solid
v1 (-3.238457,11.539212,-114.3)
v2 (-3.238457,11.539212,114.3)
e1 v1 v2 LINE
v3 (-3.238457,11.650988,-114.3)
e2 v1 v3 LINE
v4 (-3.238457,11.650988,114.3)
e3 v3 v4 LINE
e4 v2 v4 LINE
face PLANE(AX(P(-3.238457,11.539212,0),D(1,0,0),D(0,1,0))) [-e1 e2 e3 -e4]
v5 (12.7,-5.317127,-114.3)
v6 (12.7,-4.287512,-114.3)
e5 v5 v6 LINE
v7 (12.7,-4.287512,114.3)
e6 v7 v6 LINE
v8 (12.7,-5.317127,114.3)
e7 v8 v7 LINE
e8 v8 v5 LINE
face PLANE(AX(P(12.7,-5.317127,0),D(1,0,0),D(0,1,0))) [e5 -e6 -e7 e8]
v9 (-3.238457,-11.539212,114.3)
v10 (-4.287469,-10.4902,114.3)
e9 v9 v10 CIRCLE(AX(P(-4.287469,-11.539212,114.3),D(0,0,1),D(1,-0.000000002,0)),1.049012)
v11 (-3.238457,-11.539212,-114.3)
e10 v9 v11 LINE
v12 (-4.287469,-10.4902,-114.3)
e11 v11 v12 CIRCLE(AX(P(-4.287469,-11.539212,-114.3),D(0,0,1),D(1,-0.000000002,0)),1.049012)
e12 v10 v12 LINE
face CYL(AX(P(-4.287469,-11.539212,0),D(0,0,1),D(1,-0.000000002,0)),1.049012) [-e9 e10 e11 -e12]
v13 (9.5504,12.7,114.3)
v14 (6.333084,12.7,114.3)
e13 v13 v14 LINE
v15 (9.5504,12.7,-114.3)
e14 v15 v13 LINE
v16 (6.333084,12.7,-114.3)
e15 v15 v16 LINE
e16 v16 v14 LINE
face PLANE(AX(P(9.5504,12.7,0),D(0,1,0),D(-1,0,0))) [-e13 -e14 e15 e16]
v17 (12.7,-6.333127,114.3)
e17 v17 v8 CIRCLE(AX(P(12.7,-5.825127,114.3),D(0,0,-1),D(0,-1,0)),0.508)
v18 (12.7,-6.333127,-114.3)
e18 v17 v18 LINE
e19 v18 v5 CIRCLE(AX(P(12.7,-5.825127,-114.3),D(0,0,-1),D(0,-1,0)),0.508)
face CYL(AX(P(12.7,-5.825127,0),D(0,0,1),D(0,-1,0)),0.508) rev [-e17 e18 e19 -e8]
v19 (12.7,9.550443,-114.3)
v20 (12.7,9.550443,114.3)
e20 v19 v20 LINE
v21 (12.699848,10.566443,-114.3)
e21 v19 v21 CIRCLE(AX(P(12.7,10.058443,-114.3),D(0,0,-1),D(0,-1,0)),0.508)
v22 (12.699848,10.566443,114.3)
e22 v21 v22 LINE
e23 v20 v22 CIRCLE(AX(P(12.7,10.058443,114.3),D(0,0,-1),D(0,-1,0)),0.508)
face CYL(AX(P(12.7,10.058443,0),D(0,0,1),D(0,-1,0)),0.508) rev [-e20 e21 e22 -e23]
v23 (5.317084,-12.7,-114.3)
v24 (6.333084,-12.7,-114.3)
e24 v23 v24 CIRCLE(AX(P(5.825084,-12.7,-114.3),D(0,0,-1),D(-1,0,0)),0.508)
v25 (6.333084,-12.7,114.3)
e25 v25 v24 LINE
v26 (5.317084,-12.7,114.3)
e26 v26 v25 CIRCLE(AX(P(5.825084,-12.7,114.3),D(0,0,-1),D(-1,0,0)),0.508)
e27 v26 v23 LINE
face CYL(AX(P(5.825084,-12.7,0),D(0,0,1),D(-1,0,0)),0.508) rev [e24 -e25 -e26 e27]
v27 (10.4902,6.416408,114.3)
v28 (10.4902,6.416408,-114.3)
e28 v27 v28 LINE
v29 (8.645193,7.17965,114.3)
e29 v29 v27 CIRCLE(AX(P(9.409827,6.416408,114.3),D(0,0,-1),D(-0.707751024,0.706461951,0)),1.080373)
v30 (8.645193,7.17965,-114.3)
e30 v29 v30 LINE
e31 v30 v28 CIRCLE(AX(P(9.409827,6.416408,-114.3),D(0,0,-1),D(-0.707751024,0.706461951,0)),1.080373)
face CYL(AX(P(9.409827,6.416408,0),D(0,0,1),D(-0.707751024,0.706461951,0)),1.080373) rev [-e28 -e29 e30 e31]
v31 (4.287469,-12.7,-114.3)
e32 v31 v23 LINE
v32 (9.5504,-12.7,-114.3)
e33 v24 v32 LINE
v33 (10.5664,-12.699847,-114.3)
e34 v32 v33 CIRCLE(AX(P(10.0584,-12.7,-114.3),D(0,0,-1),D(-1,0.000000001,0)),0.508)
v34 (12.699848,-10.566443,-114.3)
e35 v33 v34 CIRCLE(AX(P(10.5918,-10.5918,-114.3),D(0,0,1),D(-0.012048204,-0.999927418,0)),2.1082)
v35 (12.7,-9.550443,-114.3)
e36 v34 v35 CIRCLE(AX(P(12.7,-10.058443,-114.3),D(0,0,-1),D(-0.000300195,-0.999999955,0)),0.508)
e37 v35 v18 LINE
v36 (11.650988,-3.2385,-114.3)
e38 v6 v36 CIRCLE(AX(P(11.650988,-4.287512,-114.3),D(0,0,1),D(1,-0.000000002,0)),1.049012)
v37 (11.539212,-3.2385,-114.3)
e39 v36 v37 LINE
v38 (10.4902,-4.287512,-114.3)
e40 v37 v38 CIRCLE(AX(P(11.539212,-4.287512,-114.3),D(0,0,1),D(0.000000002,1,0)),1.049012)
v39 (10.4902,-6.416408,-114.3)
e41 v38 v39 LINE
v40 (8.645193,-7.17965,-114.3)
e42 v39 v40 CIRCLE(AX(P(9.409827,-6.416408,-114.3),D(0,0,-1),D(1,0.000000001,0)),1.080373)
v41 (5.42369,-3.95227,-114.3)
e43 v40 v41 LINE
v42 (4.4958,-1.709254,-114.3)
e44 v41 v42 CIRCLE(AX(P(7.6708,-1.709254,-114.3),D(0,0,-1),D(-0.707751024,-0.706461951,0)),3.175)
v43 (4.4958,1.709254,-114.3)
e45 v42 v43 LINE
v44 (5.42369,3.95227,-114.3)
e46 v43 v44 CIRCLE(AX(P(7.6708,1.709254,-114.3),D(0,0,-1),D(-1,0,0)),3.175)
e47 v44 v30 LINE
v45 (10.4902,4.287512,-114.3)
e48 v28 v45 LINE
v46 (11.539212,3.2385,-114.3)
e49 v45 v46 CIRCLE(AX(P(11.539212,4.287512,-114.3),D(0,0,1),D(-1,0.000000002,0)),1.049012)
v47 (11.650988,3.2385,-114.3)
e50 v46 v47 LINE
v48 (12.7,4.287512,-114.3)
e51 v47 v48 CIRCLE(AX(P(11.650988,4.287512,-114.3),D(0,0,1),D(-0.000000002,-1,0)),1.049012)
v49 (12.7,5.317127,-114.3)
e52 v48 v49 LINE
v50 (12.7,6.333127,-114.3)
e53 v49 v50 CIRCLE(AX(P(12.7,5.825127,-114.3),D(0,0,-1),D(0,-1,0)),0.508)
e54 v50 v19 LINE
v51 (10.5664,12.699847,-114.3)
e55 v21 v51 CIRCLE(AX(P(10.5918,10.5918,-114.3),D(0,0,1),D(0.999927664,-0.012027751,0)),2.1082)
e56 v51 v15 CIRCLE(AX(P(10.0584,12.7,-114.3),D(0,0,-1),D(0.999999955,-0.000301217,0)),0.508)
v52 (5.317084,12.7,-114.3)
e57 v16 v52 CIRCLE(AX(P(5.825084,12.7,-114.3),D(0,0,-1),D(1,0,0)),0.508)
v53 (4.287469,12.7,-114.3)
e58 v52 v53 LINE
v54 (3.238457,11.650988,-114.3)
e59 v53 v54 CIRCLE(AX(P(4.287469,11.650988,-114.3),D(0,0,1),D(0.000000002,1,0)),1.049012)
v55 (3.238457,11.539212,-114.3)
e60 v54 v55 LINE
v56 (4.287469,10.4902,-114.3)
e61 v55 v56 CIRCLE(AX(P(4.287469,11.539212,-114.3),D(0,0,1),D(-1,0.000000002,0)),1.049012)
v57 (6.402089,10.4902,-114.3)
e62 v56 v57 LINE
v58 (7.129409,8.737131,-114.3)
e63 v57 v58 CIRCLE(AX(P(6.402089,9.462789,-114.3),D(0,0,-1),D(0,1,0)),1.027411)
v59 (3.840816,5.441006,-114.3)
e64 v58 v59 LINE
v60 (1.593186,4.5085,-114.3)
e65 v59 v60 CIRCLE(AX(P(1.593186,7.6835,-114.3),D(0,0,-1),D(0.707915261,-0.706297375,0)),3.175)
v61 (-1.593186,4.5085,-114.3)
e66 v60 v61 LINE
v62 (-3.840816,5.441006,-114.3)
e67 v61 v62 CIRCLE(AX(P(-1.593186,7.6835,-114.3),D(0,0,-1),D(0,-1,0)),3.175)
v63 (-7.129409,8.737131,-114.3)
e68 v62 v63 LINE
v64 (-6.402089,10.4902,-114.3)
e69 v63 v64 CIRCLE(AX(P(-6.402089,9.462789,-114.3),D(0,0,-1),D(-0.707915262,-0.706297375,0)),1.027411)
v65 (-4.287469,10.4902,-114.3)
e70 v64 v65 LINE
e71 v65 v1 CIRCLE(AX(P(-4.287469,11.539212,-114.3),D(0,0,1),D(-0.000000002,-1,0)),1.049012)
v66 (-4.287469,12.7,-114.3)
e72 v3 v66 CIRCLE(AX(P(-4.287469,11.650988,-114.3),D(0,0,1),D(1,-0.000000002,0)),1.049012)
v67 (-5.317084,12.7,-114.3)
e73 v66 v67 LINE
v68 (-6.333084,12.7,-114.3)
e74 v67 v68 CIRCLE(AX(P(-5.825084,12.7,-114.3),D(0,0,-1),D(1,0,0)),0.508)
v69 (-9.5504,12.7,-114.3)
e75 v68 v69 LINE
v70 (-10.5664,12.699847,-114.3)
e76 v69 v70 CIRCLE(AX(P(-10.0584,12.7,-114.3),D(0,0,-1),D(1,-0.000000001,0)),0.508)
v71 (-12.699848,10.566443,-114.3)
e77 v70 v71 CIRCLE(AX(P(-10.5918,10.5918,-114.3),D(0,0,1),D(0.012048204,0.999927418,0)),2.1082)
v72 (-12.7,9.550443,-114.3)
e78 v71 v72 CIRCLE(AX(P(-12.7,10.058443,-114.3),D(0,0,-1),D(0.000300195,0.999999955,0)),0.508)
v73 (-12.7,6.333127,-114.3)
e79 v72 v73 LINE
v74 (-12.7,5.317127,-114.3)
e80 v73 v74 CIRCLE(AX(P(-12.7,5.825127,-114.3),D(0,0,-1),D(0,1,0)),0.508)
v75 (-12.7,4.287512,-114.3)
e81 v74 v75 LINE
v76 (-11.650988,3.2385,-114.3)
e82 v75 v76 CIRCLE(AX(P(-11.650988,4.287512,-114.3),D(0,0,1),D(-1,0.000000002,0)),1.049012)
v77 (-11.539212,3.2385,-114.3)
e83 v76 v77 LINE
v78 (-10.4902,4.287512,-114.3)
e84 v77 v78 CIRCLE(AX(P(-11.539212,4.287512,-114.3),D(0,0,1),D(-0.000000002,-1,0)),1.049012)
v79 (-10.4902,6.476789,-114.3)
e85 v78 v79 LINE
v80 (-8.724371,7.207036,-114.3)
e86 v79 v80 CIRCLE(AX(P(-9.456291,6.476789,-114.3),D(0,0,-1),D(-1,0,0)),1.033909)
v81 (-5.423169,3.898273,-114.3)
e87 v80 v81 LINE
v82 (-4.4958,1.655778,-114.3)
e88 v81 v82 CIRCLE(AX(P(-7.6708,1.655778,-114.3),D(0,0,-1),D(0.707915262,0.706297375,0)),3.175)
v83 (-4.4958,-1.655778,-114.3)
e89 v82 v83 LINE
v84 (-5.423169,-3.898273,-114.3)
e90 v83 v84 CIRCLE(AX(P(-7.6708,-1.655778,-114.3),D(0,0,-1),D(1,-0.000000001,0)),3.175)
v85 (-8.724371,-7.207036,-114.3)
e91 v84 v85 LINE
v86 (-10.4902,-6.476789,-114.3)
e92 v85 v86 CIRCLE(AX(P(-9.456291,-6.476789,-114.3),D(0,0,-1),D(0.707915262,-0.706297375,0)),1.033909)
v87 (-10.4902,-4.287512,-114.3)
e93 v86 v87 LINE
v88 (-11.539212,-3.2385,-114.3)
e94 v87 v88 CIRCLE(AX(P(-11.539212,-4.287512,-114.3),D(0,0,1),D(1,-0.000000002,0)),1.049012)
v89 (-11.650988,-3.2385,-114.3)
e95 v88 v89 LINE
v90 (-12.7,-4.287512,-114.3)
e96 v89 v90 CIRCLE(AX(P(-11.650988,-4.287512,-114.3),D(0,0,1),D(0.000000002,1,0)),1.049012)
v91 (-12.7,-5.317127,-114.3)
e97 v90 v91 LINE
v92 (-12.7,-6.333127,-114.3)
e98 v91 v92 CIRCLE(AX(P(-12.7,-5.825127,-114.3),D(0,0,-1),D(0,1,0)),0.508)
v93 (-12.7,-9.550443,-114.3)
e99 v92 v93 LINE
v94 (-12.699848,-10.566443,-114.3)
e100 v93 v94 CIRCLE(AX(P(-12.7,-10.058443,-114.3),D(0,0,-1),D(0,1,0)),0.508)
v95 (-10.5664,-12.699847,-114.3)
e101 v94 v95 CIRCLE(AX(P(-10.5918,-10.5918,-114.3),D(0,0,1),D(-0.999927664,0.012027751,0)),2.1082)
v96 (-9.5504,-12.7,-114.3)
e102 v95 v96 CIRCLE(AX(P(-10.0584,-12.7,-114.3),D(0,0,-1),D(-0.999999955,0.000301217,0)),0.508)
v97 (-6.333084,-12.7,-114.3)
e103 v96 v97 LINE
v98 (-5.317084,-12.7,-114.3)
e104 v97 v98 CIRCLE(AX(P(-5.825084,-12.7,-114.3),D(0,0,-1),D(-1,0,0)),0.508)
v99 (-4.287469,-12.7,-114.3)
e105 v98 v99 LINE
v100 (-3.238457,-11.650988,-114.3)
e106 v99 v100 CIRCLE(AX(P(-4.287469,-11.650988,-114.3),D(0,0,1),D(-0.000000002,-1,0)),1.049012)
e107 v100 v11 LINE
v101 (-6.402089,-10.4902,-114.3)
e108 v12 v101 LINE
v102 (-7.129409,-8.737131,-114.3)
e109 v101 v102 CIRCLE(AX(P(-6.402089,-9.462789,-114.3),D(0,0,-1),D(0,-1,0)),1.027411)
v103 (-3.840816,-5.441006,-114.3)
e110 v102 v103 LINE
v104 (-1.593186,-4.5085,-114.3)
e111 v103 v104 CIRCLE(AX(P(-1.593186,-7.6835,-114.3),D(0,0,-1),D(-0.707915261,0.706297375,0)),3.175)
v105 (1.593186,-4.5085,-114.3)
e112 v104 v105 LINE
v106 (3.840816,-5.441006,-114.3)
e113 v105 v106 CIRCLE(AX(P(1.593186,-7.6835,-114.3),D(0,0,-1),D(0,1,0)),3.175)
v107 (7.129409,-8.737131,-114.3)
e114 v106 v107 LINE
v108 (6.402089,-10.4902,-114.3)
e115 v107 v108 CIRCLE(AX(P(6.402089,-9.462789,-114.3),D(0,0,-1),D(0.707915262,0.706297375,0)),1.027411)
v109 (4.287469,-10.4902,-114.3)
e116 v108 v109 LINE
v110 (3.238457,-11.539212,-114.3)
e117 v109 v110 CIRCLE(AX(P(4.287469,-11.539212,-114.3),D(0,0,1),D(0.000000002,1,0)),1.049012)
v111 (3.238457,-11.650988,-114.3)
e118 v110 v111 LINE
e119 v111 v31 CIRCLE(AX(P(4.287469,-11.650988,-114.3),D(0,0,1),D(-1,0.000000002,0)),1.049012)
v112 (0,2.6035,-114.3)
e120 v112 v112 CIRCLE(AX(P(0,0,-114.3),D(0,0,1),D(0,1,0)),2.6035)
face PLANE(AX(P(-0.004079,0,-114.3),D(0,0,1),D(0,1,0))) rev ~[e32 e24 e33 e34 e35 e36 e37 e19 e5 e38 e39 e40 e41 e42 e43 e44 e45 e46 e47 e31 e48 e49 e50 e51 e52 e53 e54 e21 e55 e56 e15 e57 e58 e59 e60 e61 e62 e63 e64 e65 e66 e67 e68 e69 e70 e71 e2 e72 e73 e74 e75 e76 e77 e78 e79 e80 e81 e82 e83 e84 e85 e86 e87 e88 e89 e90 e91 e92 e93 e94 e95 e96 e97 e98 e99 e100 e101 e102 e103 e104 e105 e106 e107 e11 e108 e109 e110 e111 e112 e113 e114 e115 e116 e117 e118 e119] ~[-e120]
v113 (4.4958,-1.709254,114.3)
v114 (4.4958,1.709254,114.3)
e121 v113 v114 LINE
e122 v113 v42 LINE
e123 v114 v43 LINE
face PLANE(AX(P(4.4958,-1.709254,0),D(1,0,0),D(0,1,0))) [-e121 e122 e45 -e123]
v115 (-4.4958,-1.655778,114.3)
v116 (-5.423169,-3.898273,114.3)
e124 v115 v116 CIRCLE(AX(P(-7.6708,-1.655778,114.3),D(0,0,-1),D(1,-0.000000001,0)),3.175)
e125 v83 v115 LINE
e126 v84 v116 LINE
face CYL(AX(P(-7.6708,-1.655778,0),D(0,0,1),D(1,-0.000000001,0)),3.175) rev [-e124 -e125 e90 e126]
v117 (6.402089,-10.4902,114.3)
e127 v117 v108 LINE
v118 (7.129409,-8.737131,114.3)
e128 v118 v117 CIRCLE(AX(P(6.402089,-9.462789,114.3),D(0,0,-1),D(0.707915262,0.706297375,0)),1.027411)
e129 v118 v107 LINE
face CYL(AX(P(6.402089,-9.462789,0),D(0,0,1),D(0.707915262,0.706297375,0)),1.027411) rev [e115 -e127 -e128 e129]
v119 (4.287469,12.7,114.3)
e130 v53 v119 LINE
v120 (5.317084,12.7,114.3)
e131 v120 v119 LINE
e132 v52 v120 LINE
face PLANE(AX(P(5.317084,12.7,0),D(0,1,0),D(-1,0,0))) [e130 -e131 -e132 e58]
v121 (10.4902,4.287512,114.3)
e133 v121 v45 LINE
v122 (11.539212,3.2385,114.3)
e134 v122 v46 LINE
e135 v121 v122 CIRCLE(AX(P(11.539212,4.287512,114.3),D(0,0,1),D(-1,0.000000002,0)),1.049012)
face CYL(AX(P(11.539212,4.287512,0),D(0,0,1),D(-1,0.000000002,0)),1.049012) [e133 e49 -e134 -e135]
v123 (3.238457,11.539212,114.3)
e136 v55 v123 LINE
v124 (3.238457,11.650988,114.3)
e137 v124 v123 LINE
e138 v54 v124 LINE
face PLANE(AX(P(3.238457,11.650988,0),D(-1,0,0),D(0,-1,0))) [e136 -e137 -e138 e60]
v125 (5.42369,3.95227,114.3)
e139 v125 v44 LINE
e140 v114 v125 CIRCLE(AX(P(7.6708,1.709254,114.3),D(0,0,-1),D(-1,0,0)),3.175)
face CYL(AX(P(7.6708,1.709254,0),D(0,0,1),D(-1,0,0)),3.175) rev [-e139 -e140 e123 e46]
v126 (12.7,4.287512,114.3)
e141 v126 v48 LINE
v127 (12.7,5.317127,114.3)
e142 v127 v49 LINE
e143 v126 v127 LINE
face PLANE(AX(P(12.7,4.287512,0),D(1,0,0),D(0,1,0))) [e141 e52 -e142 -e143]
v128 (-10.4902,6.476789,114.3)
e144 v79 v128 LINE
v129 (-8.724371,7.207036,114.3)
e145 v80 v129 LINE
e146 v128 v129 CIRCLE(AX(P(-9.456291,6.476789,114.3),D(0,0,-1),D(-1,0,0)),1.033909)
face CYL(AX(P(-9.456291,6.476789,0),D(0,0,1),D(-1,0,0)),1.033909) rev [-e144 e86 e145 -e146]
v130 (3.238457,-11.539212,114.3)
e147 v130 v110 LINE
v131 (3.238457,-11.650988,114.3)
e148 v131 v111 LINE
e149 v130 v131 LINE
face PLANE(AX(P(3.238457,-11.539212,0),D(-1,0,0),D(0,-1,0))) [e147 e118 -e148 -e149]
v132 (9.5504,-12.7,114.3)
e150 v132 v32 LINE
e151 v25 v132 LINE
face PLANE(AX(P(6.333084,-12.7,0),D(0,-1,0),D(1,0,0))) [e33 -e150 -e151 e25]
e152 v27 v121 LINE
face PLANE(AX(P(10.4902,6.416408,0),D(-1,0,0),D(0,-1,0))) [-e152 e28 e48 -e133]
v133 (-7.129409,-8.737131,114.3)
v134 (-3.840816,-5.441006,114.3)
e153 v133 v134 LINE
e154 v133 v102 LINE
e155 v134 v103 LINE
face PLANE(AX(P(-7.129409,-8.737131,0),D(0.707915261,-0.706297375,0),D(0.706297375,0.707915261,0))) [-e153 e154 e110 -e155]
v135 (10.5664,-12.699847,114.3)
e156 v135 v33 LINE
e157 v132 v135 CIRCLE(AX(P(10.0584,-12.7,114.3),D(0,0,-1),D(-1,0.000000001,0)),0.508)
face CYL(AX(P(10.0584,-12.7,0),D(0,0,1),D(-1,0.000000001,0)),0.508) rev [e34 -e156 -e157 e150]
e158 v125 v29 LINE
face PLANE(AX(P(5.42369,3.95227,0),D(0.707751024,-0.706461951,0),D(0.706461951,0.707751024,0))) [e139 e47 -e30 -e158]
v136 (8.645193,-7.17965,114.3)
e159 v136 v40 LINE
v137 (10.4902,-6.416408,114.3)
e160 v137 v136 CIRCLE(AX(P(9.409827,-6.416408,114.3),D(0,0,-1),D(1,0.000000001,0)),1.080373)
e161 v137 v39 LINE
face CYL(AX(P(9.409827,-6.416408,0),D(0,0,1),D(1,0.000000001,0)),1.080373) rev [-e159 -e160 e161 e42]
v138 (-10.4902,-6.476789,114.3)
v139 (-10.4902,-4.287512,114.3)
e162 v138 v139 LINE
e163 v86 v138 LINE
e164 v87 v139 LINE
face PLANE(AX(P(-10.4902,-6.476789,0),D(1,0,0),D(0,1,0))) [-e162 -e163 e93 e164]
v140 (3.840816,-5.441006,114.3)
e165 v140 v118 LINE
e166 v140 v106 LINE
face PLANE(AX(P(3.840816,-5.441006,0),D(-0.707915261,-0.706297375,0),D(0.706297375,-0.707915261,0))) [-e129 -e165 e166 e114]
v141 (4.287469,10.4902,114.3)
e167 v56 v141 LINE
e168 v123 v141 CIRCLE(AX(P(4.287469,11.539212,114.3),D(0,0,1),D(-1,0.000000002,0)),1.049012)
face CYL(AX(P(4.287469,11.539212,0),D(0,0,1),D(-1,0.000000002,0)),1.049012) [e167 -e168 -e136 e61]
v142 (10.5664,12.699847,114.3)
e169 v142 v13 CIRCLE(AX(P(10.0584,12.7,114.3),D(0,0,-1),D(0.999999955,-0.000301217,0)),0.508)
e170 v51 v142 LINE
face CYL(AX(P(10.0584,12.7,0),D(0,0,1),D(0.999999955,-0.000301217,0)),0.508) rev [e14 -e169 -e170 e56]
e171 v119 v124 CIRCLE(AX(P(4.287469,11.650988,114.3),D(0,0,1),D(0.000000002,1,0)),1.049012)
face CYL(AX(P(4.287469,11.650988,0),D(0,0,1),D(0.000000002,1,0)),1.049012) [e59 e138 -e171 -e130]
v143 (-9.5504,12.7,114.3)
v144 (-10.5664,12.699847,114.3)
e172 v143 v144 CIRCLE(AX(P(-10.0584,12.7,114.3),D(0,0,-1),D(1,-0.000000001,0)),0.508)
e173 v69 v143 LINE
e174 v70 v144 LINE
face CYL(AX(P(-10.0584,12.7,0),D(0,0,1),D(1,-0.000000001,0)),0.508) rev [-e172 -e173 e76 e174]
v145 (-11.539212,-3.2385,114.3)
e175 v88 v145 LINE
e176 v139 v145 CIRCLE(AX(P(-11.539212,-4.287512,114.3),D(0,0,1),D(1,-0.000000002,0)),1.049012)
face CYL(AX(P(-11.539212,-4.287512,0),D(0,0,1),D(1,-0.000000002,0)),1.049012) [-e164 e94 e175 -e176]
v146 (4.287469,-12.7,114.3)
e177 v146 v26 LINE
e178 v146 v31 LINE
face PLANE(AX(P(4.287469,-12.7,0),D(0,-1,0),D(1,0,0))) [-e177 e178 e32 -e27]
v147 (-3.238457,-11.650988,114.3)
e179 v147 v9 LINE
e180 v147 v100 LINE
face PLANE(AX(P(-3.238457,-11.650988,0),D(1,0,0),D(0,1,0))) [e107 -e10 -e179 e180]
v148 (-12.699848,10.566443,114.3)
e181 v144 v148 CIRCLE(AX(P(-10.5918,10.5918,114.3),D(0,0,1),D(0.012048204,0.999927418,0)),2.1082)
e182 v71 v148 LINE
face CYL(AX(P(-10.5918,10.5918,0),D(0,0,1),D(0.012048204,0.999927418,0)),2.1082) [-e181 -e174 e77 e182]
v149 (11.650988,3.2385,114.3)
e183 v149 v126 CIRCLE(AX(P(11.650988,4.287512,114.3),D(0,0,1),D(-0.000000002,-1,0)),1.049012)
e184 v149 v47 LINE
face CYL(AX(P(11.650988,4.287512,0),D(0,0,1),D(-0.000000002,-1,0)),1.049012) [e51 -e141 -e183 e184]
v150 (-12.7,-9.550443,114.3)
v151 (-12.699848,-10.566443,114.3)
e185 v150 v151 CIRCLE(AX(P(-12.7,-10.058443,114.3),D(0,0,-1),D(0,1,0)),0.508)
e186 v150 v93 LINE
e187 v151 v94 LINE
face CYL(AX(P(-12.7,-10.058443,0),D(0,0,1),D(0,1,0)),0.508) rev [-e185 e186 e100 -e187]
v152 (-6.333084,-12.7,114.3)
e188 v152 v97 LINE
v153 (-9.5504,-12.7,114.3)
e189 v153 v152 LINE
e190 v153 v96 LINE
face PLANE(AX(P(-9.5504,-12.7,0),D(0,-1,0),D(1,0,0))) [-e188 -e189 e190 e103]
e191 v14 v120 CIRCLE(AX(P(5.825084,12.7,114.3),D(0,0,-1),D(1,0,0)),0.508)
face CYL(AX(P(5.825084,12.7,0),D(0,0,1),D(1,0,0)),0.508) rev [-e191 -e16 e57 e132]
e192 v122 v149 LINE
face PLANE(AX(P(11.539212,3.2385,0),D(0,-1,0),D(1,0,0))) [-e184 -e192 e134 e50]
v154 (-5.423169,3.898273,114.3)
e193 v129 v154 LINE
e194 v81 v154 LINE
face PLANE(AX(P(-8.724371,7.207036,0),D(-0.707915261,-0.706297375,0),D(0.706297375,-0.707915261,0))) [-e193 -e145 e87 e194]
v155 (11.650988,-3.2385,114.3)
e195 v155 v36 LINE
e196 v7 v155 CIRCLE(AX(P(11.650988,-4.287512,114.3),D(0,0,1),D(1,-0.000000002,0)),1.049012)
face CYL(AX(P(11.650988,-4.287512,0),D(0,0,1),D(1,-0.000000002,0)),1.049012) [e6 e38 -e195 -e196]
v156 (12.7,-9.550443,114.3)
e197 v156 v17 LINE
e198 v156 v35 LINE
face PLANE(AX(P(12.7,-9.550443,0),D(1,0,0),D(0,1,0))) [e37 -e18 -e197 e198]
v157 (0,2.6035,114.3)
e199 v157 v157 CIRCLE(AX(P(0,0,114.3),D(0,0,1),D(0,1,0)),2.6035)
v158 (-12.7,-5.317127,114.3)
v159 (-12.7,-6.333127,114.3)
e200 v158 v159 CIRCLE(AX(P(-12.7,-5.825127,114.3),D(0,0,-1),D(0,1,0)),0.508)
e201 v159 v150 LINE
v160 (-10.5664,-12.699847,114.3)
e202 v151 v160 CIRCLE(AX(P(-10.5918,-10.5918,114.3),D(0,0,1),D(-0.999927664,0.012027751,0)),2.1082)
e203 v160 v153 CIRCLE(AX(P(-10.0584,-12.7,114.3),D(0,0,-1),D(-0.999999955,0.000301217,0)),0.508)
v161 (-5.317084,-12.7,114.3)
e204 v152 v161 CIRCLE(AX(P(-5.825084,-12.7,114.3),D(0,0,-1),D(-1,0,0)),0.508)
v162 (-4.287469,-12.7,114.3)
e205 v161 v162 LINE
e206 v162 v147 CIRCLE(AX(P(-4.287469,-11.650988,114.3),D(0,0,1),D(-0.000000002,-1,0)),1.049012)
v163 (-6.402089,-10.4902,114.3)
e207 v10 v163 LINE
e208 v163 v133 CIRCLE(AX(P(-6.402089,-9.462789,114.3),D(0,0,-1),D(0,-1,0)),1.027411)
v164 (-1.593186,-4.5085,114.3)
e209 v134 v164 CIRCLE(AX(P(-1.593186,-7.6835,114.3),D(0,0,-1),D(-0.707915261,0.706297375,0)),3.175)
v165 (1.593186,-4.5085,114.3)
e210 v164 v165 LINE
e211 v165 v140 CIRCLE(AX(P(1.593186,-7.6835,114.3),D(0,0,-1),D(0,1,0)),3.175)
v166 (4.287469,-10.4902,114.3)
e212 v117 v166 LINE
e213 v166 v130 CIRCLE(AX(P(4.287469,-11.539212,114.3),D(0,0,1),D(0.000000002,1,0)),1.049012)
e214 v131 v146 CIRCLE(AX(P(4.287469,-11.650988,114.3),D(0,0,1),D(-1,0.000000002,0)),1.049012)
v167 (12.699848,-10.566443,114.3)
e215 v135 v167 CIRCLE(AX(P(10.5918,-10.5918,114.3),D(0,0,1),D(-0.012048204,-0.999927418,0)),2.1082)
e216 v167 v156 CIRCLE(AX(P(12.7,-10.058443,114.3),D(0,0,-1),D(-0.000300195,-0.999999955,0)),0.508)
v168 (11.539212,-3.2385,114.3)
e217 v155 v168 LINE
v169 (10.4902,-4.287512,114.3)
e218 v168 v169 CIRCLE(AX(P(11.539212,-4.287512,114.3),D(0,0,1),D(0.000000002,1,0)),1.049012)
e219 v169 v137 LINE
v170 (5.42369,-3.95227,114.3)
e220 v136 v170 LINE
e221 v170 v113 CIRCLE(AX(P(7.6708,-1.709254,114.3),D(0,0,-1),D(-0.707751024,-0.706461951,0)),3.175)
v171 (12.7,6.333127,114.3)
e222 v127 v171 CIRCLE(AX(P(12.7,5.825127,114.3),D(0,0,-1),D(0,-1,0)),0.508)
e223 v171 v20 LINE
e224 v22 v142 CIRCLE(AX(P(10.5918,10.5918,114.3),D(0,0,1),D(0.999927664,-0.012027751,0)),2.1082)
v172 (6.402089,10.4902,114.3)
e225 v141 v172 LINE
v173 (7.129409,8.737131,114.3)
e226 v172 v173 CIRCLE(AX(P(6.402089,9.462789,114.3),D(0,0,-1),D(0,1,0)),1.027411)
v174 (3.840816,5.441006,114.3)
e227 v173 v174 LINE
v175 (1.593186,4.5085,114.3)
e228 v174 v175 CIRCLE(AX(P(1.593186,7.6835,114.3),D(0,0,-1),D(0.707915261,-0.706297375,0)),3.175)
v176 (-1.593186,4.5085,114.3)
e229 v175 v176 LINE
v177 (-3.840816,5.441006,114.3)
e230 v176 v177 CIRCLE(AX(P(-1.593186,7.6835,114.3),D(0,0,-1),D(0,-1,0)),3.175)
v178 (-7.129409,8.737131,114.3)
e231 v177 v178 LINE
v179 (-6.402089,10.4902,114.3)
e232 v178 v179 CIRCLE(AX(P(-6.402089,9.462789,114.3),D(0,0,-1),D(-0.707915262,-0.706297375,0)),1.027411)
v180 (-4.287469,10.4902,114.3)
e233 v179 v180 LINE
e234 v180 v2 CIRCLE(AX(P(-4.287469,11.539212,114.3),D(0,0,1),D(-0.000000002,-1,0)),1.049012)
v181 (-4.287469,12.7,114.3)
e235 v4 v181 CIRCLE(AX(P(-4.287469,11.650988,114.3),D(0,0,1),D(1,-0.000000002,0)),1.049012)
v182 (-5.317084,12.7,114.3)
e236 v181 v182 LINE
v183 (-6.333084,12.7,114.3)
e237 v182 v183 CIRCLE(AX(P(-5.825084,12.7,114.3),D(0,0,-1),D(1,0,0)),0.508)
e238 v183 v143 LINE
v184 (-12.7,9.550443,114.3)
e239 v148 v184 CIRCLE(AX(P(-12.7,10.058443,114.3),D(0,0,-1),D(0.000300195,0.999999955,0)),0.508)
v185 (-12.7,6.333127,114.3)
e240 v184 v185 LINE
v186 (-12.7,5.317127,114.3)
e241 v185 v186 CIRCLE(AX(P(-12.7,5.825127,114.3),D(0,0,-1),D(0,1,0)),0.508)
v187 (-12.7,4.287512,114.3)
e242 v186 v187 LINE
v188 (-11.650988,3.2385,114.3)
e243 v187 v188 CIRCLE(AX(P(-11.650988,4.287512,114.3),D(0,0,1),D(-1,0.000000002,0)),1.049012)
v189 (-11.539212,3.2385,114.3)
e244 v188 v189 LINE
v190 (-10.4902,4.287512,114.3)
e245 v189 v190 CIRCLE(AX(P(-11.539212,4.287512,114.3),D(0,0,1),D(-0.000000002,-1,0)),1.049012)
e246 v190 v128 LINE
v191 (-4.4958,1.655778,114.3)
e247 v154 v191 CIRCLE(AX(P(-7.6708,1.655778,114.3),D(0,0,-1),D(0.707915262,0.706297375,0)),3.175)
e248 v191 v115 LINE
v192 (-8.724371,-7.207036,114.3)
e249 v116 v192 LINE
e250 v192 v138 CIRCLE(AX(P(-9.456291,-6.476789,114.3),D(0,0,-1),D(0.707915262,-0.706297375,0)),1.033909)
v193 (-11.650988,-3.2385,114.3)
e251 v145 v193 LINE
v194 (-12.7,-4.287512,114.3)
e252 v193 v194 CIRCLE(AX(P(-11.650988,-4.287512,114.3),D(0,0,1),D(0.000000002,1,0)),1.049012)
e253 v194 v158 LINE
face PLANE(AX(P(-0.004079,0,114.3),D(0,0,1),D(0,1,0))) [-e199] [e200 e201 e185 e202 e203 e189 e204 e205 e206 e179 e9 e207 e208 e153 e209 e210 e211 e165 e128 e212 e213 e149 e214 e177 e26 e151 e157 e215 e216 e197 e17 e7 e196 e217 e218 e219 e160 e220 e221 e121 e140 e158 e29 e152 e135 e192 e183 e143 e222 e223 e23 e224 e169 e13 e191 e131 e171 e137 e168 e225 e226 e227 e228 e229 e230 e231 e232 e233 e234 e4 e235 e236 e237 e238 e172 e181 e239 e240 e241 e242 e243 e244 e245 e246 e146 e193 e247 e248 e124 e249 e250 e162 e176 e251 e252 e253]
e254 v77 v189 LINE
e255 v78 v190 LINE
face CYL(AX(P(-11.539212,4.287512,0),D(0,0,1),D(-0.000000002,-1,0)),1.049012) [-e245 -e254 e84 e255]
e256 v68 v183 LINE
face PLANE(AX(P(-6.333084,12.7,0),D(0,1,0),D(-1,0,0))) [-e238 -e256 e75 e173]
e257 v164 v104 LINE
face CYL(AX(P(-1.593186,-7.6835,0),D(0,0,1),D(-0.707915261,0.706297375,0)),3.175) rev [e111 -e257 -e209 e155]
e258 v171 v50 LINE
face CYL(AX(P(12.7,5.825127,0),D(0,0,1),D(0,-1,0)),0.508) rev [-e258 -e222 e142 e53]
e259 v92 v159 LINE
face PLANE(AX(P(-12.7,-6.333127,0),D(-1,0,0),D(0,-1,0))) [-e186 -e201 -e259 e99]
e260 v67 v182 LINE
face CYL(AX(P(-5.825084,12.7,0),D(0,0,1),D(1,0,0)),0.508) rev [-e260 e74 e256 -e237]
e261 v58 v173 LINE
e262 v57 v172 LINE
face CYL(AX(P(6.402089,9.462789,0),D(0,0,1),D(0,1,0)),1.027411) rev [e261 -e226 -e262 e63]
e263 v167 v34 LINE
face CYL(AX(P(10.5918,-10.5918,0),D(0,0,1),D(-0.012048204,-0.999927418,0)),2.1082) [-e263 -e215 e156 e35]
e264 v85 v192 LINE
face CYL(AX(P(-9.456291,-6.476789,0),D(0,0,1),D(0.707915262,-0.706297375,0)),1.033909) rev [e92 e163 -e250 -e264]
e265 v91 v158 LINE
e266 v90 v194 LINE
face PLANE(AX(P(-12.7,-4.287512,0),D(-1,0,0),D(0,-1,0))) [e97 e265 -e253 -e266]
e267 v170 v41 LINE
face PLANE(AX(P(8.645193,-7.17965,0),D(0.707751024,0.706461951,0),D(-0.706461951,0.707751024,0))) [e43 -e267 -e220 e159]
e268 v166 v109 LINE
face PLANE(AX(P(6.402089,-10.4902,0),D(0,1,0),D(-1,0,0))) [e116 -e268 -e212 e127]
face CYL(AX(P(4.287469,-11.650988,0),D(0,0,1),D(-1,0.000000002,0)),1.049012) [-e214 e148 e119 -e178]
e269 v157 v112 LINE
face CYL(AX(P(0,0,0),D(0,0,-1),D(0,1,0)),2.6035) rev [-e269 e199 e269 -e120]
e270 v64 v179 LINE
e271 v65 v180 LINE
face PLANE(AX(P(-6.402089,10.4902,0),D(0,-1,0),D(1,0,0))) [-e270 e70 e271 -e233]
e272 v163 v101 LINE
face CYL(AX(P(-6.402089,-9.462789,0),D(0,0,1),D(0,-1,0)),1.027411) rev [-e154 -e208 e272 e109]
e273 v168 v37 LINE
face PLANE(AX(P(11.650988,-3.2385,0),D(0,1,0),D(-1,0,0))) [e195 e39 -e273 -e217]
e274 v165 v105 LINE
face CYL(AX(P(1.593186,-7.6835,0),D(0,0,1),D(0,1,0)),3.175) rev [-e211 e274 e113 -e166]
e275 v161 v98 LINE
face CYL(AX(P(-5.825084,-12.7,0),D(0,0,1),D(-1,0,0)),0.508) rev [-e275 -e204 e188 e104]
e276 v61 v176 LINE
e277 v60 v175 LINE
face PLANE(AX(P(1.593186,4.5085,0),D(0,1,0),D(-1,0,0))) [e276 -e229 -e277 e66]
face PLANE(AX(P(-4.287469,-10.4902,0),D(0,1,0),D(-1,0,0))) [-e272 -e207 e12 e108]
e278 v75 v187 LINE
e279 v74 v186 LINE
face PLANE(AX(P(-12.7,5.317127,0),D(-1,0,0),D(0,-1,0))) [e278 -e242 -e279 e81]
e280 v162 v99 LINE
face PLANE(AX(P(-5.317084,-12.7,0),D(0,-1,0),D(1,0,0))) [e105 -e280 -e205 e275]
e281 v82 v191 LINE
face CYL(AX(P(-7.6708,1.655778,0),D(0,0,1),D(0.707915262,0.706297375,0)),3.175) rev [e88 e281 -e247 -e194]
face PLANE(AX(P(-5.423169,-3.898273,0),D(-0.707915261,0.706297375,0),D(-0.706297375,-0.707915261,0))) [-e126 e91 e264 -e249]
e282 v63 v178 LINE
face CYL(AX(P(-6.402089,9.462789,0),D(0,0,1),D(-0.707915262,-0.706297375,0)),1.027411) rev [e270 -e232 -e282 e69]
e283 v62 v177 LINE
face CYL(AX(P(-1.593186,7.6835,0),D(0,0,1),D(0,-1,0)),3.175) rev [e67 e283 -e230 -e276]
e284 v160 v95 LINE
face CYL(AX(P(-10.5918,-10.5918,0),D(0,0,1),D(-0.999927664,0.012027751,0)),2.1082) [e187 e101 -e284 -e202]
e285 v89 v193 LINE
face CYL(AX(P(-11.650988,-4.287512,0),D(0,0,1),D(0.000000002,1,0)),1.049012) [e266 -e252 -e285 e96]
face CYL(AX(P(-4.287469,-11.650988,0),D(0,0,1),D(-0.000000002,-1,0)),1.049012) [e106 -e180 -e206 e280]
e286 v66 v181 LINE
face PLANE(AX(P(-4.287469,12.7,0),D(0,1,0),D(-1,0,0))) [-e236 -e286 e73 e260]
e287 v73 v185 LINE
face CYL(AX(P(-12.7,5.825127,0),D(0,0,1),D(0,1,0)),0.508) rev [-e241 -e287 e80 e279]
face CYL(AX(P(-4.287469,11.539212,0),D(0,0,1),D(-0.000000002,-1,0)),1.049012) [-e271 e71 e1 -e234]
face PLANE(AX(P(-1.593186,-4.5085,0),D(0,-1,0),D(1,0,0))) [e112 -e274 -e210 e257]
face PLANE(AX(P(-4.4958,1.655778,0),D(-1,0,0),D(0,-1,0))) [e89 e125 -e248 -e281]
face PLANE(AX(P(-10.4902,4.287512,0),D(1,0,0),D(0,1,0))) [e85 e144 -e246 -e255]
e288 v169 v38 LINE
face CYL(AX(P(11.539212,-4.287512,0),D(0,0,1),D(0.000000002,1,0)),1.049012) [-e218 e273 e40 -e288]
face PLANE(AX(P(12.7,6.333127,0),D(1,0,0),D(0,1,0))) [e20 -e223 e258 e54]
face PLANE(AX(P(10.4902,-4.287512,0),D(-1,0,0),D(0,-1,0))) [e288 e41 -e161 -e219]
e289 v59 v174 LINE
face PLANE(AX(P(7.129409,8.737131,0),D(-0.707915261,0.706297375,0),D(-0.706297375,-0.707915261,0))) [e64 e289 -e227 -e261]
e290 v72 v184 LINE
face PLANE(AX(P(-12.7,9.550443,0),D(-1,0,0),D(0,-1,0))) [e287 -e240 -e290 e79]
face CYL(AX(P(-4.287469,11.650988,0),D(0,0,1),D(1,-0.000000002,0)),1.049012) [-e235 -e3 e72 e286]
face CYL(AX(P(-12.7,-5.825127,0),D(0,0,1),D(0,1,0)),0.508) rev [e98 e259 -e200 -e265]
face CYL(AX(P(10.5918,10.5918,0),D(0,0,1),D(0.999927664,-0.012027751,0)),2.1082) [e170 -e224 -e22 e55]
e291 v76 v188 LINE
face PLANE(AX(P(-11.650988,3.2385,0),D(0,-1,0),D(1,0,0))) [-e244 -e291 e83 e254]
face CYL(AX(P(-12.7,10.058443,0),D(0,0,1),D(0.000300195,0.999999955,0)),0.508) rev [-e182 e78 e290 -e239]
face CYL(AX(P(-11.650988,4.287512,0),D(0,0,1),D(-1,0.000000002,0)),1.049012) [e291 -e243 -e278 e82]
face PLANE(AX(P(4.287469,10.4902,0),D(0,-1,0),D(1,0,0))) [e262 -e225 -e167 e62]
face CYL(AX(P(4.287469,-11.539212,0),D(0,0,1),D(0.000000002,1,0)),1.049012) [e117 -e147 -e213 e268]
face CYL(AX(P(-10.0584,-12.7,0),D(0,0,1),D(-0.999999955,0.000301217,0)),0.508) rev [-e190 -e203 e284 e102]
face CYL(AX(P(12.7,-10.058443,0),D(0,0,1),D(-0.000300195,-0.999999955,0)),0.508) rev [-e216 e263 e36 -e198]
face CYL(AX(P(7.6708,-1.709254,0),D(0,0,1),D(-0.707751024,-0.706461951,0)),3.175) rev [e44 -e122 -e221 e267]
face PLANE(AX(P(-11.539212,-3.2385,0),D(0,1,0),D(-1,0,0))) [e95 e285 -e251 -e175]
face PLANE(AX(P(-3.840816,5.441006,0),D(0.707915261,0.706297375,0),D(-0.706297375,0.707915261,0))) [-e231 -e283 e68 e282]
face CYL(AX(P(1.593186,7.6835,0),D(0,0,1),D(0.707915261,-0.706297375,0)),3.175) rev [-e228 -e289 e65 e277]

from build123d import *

# Parameters (mm, degrees)
SKETCH1_R           = 2.6035
BOSS_EXTRUDE1_DEPTH = 114.3


with BuildPart() as part:
    # Sketch1 → Boss-Extrude1 (new body, symmetric)
    with BuildSketch(Plane(origin=(0, 0, 0), x_dir=(0, 1, 0), z_dir=(0, 0, 1))):
        with BuildLine():
            Line((6.333126718, -12.7), (9.550443118, -12.7))
            ThreePointArc((9.550443118, -12.7), (10.058366869, -12.192000006), (10.566443095, -12.699847501))
            ThreePointArc((10.566443095, -12.699847501), (12.082537762, -12.08250727), (12.699846982, -10.566399977))
            ThreePointArc((12.699846982, -10.566399977), (12.192000006, -10.058323491), (12.7, -9.5504))
            Line((12.7, -9.5504), (12.7, -6.3330836))
            ThreePointArc((12.7, -6.3330836), (12.192, -5.8250836), (12.7, -5.3170836))
            Line((12.7, -5.3170836), (12.7, -4.287469289))
            ThreePointArc((12.7, -4.287469289), (12.39275138, -3.545705502), (11.650987593, -3.238456882))
            Line((11.650987593, -3.238456882), (11.539212407, -3.238456882))
            ThreePointArc((11.539212407, -3.238456882), (10.79744862, -3.545705502), (10.4902, -4.287469289))
            Line((10.4902, -4.287469289), (10.4902, -6.402089023))
            ThreePointArc((10.4902, -6.402089023), (9.856505071, -7.351067942), (8.737131347, -7.129408934))
            Line((8.737131347, -7.129408934), (5.441005833, -3.840816462))
            ThreePointArc((5.441005833, -3.840816462), (4.750877967, -2.809883091), (4.5085, -1.593185507))
            Line((4.5085, -1.593185507), (4.5085, 1.593185507))
            ThreePointArc((4.5085, 1.593185507), (4.750877967, 2.809883091), (5.441005833, 3.840816462))
            Line((5.441005833, 3.840816462), (8.737131347, 7.129408934))
            ThreePointArc((8.737131347, 7.129408934), (9.856505071, 7.351067942), (10.4902, 6.402089023))
            Line((10.4902, 6.402089023), (10.4902, 4.287469289))
            ThreePointArc((10.4902, 4.287469289), (10.79744862, 3.545705502), (11.539212407, 3.238456882))
            Line((11.539212407, 3.238456882), (11.650987593, 3.238456882))
            ThreePointArc((11.650987593, 3.238456882), (12.39275138, 3.545705502), (12.7, 4.287469289))
            Line((12.7, 4.287469289), (12.7, 5.3170836))
            ThreePointArc((12.7, 5.3170836), (12.192, 5.8250836), (12.7, 6.3330836))
            Line((12.7, 6.3330836), (12.7, 9.5504))
            ThreePointArc((12.7, 9.5504), (12.192000006, 10.058323491), (12.699846982, 10.566399977))
            ThreePointArc((12.699846982, 10.566399977), (12.082537762, 12.08250727), (10.566443095, 12.699847501))
            ThreePointArc((10.566443095, 12.699847501), (10.058366869, 12.192000006), (9.550443118, 12.7))
            Line((9.550443118, 12.7), (6.333126718, 12.7))
            ThreePointArc((6.333126718, 12.7), (5.825126718, 12.192), (5.317126718, 12.7))
            Line((5.317126718, 12.7), (4.287512407, 12.7))
            ThreePointArc((4.287512407, 12.7), (3.54574862, 12.39275138), (3.2385, 11.650987593))
            Line((3.2385, 11.650987593), (3.2385, 11.539212407))
            ThreePointArc((3.2385, 11.539212407), (3.54574862, 10.79744862), (4.287512407, 10.4902))
            Line((4.287512407, 10.4902), (6.476788598, 10.4902))
            ThreePointArc((6.476788598, 10.4902), (7.432222385, 9.85140422), (7.207036008, 8.724370562))
            Line((7.207036008, 8.724370562), (3.898272566, 5.423169045))
            ThreePointArc((3.898272566, 5.423169045), (2.869120213, 4.736787962), (1.655778399, 4.4958))
            Line((1.655778399, 4.4958), (-1.655778399, 4.4958))
            ThreePointArc((-1.655778399, 4.4958), (-2.869120213, 4.736787962), (-3.898272566, 5.423169045))
            Line((-3.898272566, 5.423169045), (-7.207036008, 8.724370562))
            ThreePointArc((-7.207036008, 8.724370562), (-7.432222385, 9.85140422), (-6.476788598, 10.4902))
            Line((-6.476788598, 10.4902), (-4.287512407, 10.4902))
            ThreePointArc((-4.287512407, 10.4902), (-3.54574862, 10.79744862), (-3.2385, 11.539212407))
            Line((-3.2385, 11.539212407), (-3.2385, 11.650987593))
            ThreePointArc((-3.2385, 11.650987593), (-3.54574862, 12.39275138), (-4.287512407, 12.7))
            Line((-4.287512407, 12.7), (-5.317126718, 12.7))
            ThreePointArc((-5.317126718, 12.7), (-5.825126718, 12.192), (-6.333126718, 12.7))
            Line((-6.333126718, 12.7), (-9.550443118, 12.7))
            ThreePointArc((-9.550443118, 12.7), (-10.058366869, 12.192000006), (-10.566443095, 12.699847501))
            ThreePointArc((-10.566443095, 12.699847501), (-12.082537762, 12.08250727), (-12.699846982, 10.566399977))
            ThreePointArc((-12.699846982, 10.566399977), (-12.192000006, 10.058323491), (-12.7, 9.5504))
            Line((-12.7, 9.5504), (-12.7, 6.3330836))
            ThreePointArc((-12.7, 6.3330836), (-12.192, 5.8250836), (-12.7, 5.3170836))
            Line((-12.7, 5.3170836), (-12.7, 4.287469289))
            ThreePointArc((-12.7, 4.287469289), (-12.39275138, 3.545705502), (-11.650987593, 3.238456882))
            Line((-11.650987593, 3.238456882), (-11.539212407, 3.238456882))
            ThreePointArc((-11.539212407, 3.238456882), (-10.79744862, 3.545705502), (-10.4902, 4.287469289))
            Line((-10.4902, 4.287469289), (-10.4902, 6.402089023))
            ThreePointArc((-10.4902, 6.402089023), (-9.856505071, 7.351067942), (-8.737131347, 7.129408934))
            Line((-8.737131347, 7.129408934), (-5.441005833, 3.840816462))
            ThreePointArc((-5.441005833, 3.840816462), (-4.750877967, 2.809883091), (-4.5085, 1.593185507))
            Line((-4.5085, 1.593185507), (-4.5085, -1.593185507))
            ThreePointArc((-4.5085, -1.593185507), (-4.750877967, -2.809883091), (-5.441005833, -3.840816462))
            Line((-5.441005833, -3.840816462), (-8.737131347, -7.129408934))
            ThreePointArc((-8.737131347, -7.129408934), (-9.856505071, -7.351067942), (-10.4902, -6.402089023))
            Line((-10.4902, -6.402089023), (-10.4902, -4.287469289))
            ThreePointArc((-10.4902, -4.287469289), (-10.79744862, -3.545705502), (-11.539212407, -3.238456882))
            Line((-11.539212407, -3.238456882), (-11.650987593, -3.238456882))
            ThreePointArc((-11.650987593, -3.238456882), (-12.39275138, -3.545705502), (-12.7, -4.287469289))
            Line((-12.7, -4.287469289), (-12.7, -5.3170836))
            ThreePointArc((-12.7, -5.3170836), (-12.192, -5.8250836), (-12.7, -6.3330836))
            Line((-12.7, -6.3330836), (-12.7, -9.5504))
            ThreePointArc((-12.7, -9.5504), (-12.192000006, -10.058323491), (-12.699846982, -10.566399977))
            ThreePointArc((-12.699846982, -10.566399977), (-12.082537762, -12.08250727), (-10.566443095, -12.699847501))
            ThreePointArc((-10.566443095, -12.699847501), (-10.058366869, -12.192000006), (-9.550443118, -12.7))
            Line((-9.550443118, -12.7), (-6.333126718, -12.7))
            ThreePointArc((-6.333126718, -12.7), (-5.825126718, -12.192), (-5.317126718, -12.7))
            Line((-5.317126718, -12.7), (-4.287512407, -12.7))
            ThreePointArc((-4.287512407, -12.7), (-3.54574862, -12.39275138), (-3.2385, -11.650987593))
            Line((-3.2385, -11.650987593), (-3.2385, -11.539212407))
            ThreePointArc((-3.2385, -11.539212407), (-3.54574862, -10.79744862), (-4.287512407, -10.4902))
            Line((-4.287512407, -10.4902), (-6.416408329, -10.4902))
            ThreePointArc((-6.416408329, -10.4902), (-7.41473083, -9.822813117), (-7.179650497, -8.645192506))
            Line((-7.179650497, -8.645192506), (-3.952270251, -5.423690499))
            ThreePointArc((-3.952270251, -5.423690499), (-2.922936451, -4.736929036), (-1.709253557, -4.4958))
            Line((-1.709253557, -4.4958), (1.709253557, -4.4958))
            ThreePointArc((1.709253557, -4.4958), (2.922936451, -4.736929036), (3.952270251, -5.423690499))
            Line((3.952270251, -5.423690499), (7.179650497, -8.645192506))
            ThreePointArc((7.179650497, -8.645192506), (7.41473083, -9.822813117), (6.416408329, -10.4902))
            Line((6.416408329, -10.4902), (4.287512407, -10.4902))
            ThreePointArc((4.287512407, -10.4902), (3.54574862, -10.79744862), (3.2385, -11.539212407))
            Line((3.2385, -11.539212407), (3.2385, -11.650987593))
            ThreePointArc((3.2385, -11.650987593), (3.54574862, -12.39275138), (4.287512407, -12.7))
            Line((4.287512407, -12.7), (5.317126718, -12.7))
            ThreePointArc((5.317126718, -12.7), (5.825126718, -12.192), (6.333126718, -12.7))
        make_face()
        Circle(SKETCH1_R, mode=Mode.SUBTRACT)
    extrude(amount=BOSS_EXTRUDE1_DEPTH, both=True)


solid = part.part
